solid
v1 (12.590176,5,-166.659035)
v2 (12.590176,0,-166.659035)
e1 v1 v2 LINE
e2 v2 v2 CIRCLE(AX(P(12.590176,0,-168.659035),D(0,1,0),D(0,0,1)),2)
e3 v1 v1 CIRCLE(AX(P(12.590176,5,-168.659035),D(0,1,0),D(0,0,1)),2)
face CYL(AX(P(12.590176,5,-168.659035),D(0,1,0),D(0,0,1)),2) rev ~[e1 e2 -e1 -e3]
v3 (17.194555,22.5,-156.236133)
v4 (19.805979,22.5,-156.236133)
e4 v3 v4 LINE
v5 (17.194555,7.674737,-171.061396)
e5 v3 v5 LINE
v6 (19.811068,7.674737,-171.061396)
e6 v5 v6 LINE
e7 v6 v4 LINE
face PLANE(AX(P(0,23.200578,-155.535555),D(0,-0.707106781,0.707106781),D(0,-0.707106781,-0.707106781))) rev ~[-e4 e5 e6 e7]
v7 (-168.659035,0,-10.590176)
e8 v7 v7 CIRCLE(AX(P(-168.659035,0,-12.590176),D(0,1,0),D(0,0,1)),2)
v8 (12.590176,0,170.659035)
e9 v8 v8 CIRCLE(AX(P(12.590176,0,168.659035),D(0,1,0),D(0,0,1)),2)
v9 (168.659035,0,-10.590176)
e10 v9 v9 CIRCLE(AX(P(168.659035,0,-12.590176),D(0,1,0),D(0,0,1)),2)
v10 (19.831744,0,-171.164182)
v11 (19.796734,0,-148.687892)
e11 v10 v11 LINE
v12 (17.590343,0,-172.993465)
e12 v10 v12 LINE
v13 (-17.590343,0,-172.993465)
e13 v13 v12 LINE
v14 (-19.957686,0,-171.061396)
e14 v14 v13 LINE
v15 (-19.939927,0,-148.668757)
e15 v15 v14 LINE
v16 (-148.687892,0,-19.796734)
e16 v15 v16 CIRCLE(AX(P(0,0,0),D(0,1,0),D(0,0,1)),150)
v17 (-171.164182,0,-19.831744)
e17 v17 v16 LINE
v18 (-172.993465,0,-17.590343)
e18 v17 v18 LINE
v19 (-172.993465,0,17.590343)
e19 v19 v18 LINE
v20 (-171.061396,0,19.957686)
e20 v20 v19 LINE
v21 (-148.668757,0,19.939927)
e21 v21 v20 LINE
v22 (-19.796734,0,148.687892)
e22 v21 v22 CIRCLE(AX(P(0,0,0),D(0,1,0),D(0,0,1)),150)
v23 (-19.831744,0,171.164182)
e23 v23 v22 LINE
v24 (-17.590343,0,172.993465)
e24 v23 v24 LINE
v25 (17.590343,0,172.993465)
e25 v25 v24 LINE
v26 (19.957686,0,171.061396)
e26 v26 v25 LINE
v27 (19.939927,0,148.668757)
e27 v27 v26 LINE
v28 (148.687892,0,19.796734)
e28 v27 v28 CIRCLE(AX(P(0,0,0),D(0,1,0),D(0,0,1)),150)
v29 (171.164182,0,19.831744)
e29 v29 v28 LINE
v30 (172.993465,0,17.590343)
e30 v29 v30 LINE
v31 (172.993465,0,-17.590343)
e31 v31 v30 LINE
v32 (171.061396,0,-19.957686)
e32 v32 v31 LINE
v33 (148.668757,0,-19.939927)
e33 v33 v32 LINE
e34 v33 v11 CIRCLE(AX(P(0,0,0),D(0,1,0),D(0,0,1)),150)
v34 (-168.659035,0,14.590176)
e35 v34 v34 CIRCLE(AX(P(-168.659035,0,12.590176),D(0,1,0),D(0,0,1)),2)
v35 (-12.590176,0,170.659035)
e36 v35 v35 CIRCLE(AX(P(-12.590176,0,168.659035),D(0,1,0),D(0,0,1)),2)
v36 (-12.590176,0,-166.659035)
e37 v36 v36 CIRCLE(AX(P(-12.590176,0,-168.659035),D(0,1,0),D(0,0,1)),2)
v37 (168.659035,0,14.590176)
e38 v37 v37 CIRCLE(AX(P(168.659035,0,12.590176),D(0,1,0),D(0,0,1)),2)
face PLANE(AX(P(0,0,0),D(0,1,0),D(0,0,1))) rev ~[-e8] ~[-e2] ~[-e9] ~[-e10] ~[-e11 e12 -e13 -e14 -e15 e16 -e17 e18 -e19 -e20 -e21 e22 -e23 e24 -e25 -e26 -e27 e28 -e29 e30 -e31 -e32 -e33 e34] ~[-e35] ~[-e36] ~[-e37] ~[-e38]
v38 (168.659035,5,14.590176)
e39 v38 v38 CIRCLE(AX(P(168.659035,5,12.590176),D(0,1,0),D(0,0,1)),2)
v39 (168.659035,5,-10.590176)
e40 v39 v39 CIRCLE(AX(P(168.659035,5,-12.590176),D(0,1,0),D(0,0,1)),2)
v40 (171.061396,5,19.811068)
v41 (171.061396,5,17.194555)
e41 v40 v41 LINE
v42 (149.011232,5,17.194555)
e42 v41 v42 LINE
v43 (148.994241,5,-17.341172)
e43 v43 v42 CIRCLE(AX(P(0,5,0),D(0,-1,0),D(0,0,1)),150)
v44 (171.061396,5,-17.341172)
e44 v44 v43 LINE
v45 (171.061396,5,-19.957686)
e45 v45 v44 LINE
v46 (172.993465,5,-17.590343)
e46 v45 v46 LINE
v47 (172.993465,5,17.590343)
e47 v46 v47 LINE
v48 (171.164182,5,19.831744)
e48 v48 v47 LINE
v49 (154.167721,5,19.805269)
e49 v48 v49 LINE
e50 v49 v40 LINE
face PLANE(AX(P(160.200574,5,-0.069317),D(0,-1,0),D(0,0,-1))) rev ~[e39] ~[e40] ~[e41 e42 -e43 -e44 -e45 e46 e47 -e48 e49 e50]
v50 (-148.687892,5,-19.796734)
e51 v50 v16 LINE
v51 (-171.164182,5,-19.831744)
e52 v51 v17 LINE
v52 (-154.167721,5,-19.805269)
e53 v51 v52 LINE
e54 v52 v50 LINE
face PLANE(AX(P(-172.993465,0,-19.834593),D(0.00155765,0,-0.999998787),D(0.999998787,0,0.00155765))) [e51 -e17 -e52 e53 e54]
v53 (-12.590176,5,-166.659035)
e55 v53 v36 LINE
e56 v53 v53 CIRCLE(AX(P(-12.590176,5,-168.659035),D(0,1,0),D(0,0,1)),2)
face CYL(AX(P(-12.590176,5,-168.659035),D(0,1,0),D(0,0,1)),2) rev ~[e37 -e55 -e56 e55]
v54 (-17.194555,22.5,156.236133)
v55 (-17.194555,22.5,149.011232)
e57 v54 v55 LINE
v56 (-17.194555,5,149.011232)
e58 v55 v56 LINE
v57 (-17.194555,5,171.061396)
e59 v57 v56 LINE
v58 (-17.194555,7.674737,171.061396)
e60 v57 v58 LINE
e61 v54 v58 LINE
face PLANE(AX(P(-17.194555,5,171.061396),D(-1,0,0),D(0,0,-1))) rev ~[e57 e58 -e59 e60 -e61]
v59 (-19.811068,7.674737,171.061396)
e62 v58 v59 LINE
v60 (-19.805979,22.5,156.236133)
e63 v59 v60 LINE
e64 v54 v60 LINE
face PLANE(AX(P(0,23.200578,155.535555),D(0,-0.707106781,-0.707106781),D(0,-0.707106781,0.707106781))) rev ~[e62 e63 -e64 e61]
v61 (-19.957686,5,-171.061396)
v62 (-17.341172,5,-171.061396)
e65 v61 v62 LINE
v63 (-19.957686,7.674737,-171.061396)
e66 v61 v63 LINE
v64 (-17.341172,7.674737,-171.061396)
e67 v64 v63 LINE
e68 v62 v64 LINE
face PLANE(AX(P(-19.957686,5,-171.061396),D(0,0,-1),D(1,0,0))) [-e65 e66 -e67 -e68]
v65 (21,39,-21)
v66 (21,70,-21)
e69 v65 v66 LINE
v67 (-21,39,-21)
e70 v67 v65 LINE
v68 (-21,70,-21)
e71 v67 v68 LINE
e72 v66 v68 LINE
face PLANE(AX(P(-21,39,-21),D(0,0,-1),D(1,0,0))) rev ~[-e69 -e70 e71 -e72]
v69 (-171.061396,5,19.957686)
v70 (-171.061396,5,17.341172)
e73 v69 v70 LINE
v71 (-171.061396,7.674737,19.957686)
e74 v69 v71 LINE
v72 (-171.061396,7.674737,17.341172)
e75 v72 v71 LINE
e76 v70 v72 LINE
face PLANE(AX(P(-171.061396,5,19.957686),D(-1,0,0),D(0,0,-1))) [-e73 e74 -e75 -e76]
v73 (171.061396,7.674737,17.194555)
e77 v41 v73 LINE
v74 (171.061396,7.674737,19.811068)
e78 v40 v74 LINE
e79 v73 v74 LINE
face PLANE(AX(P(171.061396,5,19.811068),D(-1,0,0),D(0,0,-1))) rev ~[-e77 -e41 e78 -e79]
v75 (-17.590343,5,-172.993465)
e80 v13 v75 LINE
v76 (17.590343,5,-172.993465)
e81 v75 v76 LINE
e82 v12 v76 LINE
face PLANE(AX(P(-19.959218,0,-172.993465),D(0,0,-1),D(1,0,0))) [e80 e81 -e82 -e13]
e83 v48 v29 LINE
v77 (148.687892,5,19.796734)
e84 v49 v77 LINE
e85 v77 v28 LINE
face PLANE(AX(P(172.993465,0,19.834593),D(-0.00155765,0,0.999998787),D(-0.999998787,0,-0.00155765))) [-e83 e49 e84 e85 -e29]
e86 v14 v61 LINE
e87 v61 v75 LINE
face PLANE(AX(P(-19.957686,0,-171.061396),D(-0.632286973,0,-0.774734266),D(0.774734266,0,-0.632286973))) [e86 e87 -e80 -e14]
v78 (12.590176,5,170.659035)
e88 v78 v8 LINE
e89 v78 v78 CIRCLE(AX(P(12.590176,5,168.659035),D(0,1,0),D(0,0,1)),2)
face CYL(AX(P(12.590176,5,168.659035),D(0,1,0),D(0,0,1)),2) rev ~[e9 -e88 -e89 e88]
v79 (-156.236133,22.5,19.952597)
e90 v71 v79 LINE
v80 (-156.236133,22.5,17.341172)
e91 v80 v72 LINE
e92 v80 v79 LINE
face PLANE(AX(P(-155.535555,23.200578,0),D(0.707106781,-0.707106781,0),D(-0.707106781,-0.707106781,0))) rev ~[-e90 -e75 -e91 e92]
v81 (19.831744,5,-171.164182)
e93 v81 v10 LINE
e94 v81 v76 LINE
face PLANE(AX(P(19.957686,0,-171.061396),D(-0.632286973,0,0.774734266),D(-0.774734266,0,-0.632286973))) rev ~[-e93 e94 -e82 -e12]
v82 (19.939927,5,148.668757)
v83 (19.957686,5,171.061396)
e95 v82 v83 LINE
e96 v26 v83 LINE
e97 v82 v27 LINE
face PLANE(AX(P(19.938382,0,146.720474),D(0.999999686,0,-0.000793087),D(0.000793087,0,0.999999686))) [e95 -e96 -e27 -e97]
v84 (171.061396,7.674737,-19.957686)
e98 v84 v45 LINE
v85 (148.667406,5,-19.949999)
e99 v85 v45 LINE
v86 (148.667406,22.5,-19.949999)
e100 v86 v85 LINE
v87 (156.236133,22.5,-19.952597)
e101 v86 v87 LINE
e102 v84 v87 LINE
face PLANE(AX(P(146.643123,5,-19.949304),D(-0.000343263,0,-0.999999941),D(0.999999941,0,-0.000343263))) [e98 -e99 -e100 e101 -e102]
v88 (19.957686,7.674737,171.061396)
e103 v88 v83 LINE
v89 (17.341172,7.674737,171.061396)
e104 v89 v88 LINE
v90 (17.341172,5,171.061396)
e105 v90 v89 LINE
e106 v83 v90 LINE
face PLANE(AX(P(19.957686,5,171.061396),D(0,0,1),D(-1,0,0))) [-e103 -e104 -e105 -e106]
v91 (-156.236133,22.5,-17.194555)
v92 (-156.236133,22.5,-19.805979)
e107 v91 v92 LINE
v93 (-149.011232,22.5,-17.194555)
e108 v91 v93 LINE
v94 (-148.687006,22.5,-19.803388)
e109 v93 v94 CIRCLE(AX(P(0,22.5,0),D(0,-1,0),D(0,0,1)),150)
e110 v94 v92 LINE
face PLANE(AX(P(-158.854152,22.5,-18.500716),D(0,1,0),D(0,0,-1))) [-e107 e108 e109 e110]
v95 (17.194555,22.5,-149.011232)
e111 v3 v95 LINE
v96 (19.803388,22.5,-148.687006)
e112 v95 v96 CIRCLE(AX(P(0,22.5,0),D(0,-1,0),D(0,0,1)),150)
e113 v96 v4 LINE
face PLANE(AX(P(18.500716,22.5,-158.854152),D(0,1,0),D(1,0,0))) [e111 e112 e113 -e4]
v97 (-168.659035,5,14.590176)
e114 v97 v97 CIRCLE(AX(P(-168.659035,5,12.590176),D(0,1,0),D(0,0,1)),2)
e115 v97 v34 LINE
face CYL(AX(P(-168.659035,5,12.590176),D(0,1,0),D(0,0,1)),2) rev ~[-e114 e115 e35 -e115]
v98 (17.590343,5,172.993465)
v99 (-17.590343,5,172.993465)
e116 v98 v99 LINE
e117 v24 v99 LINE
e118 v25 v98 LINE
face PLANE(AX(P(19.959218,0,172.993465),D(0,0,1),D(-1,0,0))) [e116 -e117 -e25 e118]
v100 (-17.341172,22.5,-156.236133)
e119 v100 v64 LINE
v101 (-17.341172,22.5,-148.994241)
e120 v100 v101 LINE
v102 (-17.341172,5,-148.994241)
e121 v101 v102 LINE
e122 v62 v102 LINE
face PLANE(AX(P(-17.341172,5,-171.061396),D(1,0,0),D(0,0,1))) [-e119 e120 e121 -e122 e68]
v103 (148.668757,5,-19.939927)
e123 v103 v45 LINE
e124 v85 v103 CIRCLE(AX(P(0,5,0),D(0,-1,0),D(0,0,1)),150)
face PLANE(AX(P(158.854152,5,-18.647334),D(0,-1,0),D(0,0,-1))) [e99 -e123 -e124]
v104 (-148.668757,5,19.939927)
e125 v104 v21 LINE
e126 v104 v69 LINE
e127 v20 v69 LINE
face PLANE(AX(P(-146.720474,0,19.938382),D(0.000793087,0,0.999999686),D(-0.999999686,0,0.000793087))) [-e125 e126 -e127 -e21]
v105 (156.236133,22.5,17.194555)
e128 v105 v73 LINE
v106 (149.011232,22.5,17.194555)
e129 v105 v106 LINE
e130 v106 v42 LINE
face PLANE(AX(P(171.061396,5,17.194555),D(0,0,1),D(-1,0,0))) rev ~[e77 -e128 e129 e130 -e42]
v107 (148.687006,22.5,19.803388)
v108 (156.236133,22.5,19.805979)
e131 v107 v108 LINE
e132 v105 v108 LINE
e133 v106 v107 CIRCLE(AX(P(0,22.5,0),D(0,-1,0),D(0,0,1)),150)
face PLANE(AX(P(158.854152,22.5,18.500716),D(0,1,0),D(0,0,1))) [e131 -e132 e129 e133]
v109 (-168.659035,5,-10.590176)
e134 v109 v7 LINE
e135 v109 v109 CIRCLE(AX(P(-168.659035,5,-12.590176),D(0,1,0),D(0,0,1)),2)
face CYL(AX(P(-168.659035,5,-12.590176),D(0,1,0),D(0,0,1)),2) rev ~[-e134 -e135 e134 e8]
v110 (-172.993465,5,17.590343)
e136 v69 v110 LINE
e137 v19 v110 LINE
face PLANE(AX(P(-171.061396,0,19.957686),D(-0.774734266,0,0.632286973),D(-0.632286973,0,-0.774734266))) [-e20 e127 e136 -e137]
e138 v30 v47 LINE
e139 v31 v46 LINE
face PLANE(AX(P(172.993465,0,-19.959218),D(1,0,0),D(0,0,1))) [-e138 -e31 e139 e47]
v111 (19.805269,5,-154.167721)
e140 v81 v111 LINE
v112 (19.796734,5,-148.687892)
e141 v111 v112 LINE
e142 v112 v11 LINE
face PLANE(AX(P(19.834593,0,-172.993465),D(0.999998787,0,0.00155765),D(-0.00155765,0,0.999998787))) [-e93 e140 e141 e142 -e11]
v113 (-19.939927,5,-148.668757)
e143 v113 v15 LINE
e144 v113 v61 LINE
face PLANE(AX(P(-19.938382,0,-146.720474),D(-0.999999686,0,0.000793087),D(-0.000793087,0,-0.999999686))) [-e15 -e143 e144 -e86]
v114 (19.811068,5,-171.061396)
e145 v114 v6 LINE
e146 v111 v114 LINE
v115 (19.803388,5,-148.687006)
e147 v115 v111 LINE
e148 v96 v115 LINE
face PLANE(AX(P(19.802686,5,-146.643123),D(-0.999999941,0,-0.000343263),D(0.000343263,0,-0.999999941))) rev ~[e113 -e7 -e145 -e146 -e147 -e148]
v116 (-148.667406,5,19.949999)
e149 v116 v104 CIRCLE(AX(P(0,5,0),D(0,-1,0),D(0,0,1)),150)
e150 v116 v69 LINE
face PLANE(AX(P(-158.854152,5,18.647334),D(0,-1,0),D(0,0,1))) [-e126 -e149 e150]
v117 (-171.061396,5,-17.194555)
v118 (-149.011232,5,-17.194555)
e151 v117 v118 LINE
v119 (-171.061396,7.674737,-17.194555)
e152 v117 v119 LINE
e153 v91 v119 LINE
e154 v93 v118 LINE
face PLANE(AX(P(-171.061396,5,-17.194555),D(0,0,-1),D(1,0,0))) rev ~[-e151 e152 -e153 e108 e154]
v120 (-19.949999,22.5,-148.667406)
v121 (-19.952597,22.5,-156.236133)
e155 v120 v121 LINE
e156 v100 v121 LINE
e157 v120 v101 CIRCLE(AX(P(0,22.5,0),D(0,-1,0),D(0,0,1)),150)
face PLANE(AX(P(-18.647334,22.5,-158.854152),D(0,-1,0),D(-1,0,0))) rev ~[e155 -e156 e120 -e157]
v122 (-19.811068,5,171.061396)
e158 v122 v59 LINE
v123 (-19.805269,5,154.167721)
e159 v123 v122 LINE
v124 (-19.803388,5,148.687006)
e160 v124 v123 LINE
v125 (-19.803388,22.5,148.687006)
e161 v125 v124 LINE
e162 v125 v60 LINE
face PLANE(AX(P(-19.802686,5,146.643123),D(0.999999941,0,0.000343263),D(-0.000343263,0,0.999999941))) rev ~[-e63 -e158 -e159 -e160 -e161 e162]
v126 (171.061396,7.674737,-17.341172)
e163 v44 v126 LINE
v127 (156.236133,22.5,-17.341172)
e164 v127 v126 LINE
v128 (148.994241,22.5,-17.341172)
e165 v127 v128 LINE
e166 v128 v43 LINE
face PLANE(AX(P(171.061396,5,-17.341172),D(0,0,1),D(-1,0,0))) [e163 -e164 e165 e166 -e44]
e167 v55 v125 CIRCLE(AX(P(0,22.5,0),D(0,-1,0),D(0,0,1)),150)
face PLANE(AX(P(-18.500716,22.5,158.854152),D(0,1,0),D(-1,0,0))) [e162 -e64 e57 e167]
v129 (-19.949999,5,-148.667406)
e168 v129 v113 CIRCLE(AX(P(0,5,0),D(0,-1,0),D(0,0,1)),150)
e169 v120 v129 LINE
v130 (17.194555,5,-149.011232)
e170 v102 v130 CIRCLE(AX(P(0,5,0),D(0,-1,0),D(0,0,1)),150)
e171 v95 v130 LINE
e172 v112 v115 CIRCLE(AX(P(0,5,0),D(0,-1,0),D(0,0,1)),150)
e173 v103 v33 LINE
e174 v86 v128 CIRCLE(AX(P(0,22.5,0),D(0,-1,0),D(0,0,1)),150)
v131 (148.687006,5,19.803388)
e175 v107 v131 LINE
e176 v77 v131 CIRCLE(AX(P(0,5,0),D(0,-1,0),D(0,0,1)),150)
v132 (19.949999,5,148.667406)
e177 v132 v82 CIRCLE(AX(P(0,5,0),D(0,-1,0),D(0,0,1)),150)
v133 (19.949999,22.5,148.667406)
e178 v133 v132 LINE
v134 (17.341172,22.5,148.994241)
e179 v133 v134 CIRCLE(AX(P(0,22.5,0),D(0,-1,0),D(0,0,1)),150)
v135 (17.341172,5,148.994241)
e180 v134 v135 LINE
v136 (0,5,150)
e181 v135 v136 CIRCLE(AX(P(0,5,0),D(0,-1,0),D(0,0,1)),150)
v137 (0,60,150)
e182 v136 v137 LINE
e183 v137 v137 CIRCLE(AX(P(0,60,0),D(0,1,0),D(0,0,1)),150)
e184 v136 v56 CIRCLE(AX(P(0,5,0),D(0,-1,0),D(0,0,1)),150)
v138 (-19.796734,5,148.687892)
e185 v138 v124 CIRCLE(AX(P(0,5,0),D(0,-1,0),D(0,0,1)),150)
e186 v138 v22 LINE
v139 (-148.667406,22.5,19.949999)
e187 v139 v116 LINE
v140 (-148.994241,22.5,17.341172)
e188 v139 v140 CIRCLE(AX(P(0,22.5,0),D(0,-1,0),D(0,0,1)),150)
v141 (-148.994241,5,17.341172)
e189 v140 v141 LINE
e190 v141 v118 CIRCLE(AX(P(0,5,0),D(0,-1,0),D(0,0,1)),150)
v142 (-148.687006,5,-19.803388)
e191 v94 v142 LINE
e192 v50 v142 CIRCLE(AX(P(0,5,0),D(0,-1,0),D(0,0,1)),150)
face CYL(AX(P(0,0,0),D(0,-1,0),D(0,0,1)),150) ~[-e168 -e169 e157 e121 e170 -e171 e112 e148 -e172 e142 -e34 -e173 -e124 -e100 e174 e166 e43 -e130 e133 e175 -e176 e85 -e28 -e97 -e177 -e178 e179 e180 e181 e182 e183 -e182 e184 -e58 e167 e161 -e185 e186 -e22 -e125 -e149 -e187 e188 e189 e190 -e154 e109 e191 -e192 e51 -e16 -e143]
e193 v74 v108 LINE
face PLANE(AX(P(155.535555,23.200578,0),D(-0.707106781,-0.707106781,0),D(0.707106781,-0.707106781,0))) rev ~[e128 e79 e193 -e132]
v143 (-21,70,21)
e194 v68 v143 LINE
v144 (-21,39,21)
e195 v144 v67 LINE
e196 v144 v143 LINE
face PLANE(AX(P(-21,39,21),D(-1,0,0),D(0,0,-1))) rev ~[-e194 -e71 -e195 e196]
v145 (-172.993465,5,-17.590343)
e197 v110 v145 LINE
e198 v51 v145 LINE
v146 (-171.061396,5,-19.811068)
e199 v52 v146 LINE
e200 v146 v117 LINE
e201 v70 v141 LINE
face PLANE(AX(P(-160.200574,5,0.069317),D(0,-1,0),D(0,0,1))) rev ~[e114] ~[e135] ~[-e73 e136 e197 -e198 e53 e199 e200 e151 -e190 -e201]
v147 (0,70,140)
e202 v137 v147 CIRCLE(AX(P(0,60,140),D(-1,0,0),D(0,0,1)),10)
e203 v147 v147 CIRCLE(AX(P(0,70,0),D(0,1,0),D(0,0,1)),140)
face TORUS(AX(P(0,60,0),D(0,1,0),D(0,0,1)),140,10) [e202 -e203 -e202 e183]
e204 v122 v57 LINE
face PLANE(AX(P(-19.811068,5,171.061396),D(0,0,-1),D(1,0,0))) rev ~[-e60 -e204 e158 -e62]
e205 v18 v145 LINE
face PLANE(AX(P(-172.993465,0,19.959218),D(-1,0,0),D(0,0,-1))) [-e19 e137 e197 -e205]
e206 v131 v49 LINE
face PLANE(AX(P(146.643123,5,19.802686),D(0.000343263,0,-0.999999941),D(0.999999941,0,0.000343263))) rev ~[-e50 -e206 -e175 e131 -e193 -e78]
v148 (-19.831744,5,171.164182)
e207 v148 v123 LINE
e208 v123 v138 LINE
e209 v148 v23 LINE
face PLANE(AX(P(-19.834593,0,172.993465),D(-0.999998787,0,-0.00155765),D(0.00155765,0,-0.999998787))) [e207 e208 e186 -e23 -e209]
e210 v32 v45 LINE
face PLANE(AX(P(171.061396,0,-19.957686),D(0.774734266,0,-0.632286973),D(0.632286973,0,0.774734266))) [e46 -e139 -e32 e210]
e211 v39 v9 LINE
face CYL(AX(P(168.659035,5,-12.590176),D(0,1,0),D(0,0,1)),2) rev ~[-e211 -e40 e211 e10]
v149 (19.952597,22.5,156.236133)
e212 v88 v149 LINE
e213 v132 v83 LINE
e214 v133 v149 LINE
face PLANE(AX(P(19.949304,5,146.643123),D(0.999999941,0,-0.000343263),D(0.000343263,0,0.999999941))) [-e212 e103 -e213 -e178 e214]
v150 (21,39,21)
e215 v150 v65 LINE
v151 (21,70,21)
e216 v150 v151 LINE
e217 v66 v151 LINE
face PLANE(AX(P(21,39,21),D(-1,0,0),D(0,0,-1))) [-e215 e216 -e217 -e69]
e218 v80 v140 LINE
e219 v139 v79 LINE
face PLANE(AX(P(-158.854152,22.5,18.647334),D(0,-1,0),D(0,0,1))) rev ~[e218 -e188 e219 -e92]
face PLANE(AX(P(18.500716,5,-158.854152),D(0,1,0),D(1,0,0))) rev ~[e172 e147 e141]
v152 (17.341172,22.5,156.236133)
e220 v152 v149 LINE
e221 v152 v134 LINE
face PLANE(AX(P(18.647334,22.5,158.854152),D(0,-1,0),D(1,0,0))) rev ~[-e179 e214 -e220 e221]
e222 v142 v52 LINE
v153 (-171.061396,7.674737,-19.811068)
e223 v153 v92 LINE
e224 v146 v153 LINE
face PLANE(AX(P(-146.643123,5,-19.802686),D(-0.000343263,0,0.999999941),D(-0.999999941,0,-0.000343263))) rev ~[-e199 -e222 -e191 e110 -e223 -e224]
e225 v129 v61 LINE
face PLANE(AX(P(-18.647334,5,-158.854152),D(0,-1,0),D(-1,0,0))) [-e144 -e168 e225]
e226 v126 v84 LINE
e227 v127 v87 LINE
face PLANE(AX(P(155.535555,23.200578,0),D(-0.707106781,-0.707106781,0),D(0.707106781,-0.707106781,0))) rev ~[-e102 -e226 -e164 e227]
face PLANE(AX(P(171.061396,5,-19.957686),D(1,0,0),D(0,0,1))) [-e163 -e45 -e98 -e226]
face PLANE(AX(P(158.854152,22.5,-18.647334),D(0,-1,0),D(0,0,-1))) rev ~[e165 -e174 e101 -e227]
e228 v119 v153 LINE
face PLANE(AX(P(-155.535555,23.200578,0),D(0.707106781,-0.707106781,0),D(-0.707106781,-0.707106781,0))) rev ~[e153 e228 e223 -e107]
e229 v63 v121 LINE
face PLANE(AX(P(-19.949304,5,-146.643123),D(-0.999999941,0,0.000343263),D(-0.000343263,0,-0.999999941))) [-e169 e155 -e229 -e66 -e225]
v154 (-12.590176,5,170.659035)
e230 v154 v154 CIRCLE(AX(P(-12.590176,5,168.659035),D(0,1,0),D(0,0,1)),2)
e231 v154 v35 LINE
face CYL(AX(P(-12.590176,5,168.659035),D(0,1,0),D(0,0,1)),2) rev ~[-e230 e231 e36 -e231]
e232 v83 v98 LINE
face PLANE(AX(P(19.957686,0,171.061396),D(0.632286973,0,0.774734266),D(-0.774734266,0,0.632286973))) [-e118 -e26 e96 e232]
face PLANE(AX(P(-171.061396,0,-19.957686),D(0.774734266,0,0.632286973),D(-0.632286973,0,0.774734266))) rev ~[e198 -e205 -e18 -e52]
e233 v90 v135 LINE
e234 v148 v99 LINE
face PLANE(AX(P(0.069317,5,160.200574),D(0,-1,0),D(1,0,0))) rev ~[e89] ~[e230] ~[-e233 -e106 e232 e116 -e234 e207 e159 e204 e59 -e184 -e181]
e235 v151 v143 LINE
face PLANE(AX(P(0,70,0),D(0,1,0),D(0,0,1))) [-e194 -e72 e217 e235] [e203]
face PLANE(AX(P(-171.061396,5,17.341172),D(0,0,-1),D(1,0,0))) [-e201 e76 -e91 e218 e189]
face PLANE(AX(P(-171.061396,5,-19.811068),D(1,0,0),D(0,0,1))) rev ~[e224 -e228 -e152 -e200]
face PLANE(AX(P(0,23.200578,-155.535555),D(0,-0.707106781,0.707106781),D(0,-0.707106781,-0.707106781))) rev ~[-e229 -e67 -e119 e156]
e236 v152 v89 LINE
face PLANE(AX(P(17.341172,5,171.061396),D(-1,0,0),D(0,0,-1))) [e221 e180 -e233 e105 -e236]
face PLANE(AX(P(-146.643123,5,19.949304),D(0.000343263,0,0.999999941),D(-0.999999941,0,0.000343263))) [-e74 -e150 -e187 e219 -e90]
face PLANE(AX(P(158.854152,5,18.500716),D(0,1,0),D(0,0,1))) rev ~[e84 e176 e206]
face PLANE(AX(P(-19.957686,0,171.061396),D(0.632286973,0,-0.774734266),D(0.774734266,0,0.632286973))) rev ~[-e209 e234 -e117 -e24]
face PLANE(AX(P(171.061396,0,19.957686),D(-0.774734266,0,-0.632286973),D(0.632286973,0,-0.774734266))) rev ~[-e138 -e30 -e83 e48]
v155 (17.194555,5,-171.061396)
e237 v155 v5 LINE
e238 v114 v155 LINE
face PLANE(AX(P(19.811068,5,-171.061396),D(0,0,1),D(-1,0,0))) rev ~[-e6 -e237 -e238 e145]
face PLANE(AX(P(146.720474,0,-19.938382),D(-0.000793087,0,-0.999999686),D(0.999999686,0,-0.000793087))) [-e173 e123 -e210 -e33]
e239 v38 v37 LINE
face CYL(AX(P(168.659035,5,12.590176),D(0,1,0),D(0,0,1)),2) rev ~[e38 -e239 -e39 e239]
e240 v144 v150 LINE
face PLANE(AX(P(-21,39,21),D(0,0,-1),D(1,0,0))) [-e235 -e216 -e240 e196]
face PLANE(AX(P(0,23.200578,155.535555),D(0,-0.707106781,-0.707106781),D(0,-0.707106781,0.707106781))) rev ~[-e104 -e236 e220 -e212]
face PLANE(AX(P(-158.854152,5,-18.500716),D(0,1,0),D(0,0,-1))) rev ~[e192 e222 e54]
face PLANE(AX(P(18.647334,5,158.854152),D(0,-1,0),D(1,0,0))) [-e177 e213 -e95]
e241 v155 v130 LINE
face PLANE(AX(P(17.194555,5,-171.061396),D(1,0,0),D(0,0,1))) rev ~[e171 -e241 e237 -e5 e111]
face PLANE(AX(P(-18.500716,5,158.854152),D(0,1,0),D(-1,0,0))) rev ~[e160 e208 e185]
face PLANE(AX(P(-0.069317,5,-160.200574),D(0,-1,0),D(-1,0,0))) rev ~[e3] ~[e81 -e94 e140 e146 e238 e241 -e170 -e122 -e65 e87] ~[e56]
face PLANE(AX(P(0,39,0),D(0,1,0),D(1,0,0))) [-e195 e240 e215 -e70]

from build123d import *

# Parameters (mm, degrees)
IZIM1_R                      = 150
Y_KSEKLIK_EKSTR_ZYON1_DEPTH  = 70
Y_KSEKLIK_EKSTR_ZYON14_DEPTH = 5
Y_KSEKLIK_EKSTR_ZYON16_DEPTH = 17.5
KES_EKSTR_ZYON1_DEPTH        = 27.5
KES_EKSTR_ZYON3_DEPTH        = 7.5
Y_KSEKLIK_EKSTR_ZYON17_DEPTH = 6
DAIRESEL_KAPLAMA1_COUNT      = 4
DAIRESEL_KAPLAMA2_COUNT      = 4
RADYUS1_R                    = 10
IZIM19_R                     = 2
KES_EKSTR_ZYON5_DEPTH        = 10
IZIM22_R                     = 140
Y_KSEKLIK_EKSTR_ZYON18_DEPTH = 1
KES_EKSTR_ZYON8_DEPTH        = 11
KES_EKSTR_ZYON8_DEPTH_BACK   = 31
IZIM18_W                     = 42
IZIM18_H                     = 42


with BuildPart() as part:
    # Çizim1 → Yükseklik-Ekstrüzyon1 (new body)
    with BuildSketch(Plane(origin=(0, 0, 0), x_dir=(1, 0, 0), z_dir=(0, 1, 0))):
        with Locations(Location((0, 0, 0), (0, 0, 270))):
            Circle(IZIM1_R)
    extrude(amount=Y_KSEKLIK_EKSTR_ZYON1_DEPTH)

    # Çizim2 → Yükseklik-Ekstrüzyon14 (add)
    with BuildSketch(Plane(origin=(0, 0, 0), x_dir=(1, 0, 0), z_dir=(0, 1, 0))):
        with BuildLine():
            Line((-19.938381567, 146.7204745), (-19.959218349, 172.993465408))
            Line((-19.959218349, 172.993465408), (19.834593255, 172.993465408))
            Line((19.834593255, 172.993465408), (19.793688749, 146.733102083))
            add(Edge.make_bspline(
                [(-19.938381567, 146.7204745), (-6.821574105, 149.387431492), (6.677589472, 149.400040821), (19.793688749, 146.733102083)],
                knots=[0, 0, 0, 0, 0.935808431, 0.935808431, 0.935808431, 0.935808431], degree=3))
        make_face()
    y_kseklik_ekstr_zyon14 = extrude(amount=Y_KSEKLIK_EKSTR_ZYON14_DEPTH)

    # Çizim11 → Yükseklik-Ekstrüzyon16 (add)
    with BuildSketch(Plane(origin=(0, 5, 0), x_dir=(1, 0, 0), z_dir=(0, 1, 0))):
        Polygon((-19.957686049, 171.061396107), (-17.341172439, 171.061396107), (-17.341172439, 146.643122555), (-19.949304151, 146.643122555), align=None)
        Polygon((17.194554667, 146.643122555), (19.802686379, 146.643122555), (19.811068277, 171.061396107), (17.194554667, 171.061396107), align=None)
    y_kseklik_ekstr_zyon16 = extrude(amount=Y_KSEKLIK_EKSTR_ZYON16_DEPTH)

    # Çizim12 → Kes-Ekstrüzyon1 (cut, symmetric)
    with BuildSketch(Plane(origin=(0, 0, 0), x_dir=(0, 0, -1), z_dir=(1, 0, 0))):
        Polygon((155.535554898, 23.200577764), (171.374705499, 7.361427163), (171.374705499, 23.200577764), align=None)
    kes_ekstr_zyon1 = extrude(amount=KES_EKSTR_ZYON1_DEPTH, both=True, mode=Mode.SUBTRACT)

    # Çizim13 → Kes-Ekstrüzyon3 (cut)
    with BuildSketch(Plane(origin=(0, 0, 0), x_dir=(1, 0, 0), z_dir=(0, 1, 0))):
        Polygon((-19.957686049, 171.061396107), (-17.341172439, 173.196821818), (-20.112409128, 173.196821818), (-20.112409128, 171.061396107), align=None)
        Polygon((20.112409128, 173.196821818), (20.112409128, 171.061396107), (19.957686049, 171.061396107), (17.341172439, 173.196821818), align=None)
    kes_ekstr_zyon3 = extrude(amount=KES_EKSTR_ZYON3_DEPTH, mode=Mode.SUBTRACT)

    # Çizim17 → Yükseklik-Ekstrüzyon17 (add)
    with BuildSketch(Plane(origin=(0, 0, 0), x_dir=(1, 0, 0), z_dir=(0, 1, 0))):
        Polygon((11.703099503, 121.823652722), (9.703099523, 121.82337545), (8.703339657, 120.091186024), (9.703579771, 118.359273869), (11.703579752, 118.35955114), (12.703339618, 120.091740567), align=None)
        Polygon((-9.703579771, 118.359273869), (-11.703579752, 118.35955114), (-12.703339618, 120.091740567), (-11.703099503, 121.823652722), (-9.703099523, 121.82337545), (-8.703339657, 120.091186024), align=None)
    y_kseklik_ekstr_zyon17 = extrude(amount=Y_KSEKLIK_EKSTR_ZYON17_DEPTH)

    # Dairesel Kaplama1: Yükseklik-Ekstrüzyon14, Yükseklik-Ekstrüzyon16, Kes-Ekstrüzyon3, Yükseklik-Ekstrüzyon17 ×4 about axis
    dairesel_kaplama1_axis = Axis((0, 0, 0), (0, 1, 0))
    add([y_kseklik_ekstr_zyon14.rotate(dairesel_kaplama1_axis, i * 360 / DAIRESEL_KAPLAMA1_COUNT) for i in range(1, DAIRESEL_KAPLAMA1_COUNT)])
    add([y_kseklik_ekstr_zyon16.rotate(dairesel_kaplama1_axis, i * 360 / DAIRESEL_KAPLAMA1_COUNT) for i in range(1, DAIRESEL_KAPLAMA1_COUNT)])
    add([kes_ekstr_zyon3.rotate(dairesel_kaplama1_axis, i * 360 / DAIRESEL_KAPLAMA1_COUNT) for i in range(1, DAIRESEL_KAPLAMA1_COUNT)], mode=Mode.SUBTRACT)
    add([y_kseklik_ekstr_zyon17.rotate(dairesel_kaplama1_axis, i * 360 / DAIRESEL_KAPLAMA1_COUNT) for i in range(1, DAIRESEL_KAPLAMA1_COUNT)])

    # Dairesel Kaplama2: Kes-Ekstrüzyon1 ×4 about axis
    dairesel_kaplama2_axis = Axis((0, 0, 0), (0, 1, 0))
    for i in range(1, DAIRESEL_KAPLAMA2_COUNT):
        add(kes_ekstr_zyon1.rotate(dairesel_kaplama2_axis, i * 360 / DAIRESEL_KAPLAMA2_COUNT), mode=Mode.SUBTRACT)

    # Radyus1
    radyus1_edges = [part.edges().sort_by_distance(p)[0] for p in [
        (0, 70, -150),
    ]]
    fillet(radyus1_edges, radius=RADYUS1_R)

    # Çizim19 → Kes-Ekstrüzyon5 (cut)
    with BuildSketch(Plane(origin=(0, 5, 0), x_dir=(1, 0, 0), z_dir=(0, 1, 0))):
        with Locations(Location((-12.590175798, 168.65903489, 0), (0, 0, 270))):
            Circle(IZIM19_R)
        with Locations(Location((12.590175798, 168.65903489, 0), (0, 0, 270))):
            Circle(IZIM19_R)
        with Locations(Location((168.65903489, 12.590175798, 0), (0, 0, 270))):
            Circle(IZIM19_R)
        with Locations(Location((168.65903489, -12.590175798, 0), (0, 0, 270))):
            Circle(IZIM19_R)
        with Locations(Location((12.590175798, -168.65903489, 0), (0, 0, 270))):
            Circle(IZIM19_R)
        with Locations(Location((-12.590175798, -168.65903489, 0), (0, 0, 270))):
            Circle(IZIM19_R)
        with Locations(Location((-168.65903489, -12.590175798, 0), (0, 0, 270))):
            Circle(IZIM19_R)
        with Locations(Location((-168.65903489, 12.590175798, 0), (0, 0, 270))):
            Circle(IZIM19_R)
    extrude(amount=-KES_EKSTR_ZYON5_DEPTH, mode=Mode.SUBTRACT)

    # Çizim22 → Yükseklik-Ekstrüzyon18 (add)
    with BuildSketch(Plane(origin=(0, 70, 0), x_dir=(1, 0, 0), z_dir=(0, 1, 0))):
        Circle(IZIM22_R)
    extrude(amount=-Y_KSEKLIK_EKSTR_ZYON18_DEPTH)

    # Çizim18 → Kes-Ekstrüzyon8 (cut, two sides: drawn at the far end of the back side and taken through both)
    with BuildSketch(Plane(origin=(0, 70, 0), x_dir=(1, 0, 0), z_dir=(0, 1, 0)).offset(-KES_EKSTR_ZYON8_DEPTH_BACK)):
        Rectangle(IZIM18_W, IZIM18_H)
    extrude(amount=KES_EKSTR_ZYON8_DEPTH + KES_EKSTR_ZYON8_DEPTH_BACK, mode=Mode.SUBTRACT)


solid = part.part
